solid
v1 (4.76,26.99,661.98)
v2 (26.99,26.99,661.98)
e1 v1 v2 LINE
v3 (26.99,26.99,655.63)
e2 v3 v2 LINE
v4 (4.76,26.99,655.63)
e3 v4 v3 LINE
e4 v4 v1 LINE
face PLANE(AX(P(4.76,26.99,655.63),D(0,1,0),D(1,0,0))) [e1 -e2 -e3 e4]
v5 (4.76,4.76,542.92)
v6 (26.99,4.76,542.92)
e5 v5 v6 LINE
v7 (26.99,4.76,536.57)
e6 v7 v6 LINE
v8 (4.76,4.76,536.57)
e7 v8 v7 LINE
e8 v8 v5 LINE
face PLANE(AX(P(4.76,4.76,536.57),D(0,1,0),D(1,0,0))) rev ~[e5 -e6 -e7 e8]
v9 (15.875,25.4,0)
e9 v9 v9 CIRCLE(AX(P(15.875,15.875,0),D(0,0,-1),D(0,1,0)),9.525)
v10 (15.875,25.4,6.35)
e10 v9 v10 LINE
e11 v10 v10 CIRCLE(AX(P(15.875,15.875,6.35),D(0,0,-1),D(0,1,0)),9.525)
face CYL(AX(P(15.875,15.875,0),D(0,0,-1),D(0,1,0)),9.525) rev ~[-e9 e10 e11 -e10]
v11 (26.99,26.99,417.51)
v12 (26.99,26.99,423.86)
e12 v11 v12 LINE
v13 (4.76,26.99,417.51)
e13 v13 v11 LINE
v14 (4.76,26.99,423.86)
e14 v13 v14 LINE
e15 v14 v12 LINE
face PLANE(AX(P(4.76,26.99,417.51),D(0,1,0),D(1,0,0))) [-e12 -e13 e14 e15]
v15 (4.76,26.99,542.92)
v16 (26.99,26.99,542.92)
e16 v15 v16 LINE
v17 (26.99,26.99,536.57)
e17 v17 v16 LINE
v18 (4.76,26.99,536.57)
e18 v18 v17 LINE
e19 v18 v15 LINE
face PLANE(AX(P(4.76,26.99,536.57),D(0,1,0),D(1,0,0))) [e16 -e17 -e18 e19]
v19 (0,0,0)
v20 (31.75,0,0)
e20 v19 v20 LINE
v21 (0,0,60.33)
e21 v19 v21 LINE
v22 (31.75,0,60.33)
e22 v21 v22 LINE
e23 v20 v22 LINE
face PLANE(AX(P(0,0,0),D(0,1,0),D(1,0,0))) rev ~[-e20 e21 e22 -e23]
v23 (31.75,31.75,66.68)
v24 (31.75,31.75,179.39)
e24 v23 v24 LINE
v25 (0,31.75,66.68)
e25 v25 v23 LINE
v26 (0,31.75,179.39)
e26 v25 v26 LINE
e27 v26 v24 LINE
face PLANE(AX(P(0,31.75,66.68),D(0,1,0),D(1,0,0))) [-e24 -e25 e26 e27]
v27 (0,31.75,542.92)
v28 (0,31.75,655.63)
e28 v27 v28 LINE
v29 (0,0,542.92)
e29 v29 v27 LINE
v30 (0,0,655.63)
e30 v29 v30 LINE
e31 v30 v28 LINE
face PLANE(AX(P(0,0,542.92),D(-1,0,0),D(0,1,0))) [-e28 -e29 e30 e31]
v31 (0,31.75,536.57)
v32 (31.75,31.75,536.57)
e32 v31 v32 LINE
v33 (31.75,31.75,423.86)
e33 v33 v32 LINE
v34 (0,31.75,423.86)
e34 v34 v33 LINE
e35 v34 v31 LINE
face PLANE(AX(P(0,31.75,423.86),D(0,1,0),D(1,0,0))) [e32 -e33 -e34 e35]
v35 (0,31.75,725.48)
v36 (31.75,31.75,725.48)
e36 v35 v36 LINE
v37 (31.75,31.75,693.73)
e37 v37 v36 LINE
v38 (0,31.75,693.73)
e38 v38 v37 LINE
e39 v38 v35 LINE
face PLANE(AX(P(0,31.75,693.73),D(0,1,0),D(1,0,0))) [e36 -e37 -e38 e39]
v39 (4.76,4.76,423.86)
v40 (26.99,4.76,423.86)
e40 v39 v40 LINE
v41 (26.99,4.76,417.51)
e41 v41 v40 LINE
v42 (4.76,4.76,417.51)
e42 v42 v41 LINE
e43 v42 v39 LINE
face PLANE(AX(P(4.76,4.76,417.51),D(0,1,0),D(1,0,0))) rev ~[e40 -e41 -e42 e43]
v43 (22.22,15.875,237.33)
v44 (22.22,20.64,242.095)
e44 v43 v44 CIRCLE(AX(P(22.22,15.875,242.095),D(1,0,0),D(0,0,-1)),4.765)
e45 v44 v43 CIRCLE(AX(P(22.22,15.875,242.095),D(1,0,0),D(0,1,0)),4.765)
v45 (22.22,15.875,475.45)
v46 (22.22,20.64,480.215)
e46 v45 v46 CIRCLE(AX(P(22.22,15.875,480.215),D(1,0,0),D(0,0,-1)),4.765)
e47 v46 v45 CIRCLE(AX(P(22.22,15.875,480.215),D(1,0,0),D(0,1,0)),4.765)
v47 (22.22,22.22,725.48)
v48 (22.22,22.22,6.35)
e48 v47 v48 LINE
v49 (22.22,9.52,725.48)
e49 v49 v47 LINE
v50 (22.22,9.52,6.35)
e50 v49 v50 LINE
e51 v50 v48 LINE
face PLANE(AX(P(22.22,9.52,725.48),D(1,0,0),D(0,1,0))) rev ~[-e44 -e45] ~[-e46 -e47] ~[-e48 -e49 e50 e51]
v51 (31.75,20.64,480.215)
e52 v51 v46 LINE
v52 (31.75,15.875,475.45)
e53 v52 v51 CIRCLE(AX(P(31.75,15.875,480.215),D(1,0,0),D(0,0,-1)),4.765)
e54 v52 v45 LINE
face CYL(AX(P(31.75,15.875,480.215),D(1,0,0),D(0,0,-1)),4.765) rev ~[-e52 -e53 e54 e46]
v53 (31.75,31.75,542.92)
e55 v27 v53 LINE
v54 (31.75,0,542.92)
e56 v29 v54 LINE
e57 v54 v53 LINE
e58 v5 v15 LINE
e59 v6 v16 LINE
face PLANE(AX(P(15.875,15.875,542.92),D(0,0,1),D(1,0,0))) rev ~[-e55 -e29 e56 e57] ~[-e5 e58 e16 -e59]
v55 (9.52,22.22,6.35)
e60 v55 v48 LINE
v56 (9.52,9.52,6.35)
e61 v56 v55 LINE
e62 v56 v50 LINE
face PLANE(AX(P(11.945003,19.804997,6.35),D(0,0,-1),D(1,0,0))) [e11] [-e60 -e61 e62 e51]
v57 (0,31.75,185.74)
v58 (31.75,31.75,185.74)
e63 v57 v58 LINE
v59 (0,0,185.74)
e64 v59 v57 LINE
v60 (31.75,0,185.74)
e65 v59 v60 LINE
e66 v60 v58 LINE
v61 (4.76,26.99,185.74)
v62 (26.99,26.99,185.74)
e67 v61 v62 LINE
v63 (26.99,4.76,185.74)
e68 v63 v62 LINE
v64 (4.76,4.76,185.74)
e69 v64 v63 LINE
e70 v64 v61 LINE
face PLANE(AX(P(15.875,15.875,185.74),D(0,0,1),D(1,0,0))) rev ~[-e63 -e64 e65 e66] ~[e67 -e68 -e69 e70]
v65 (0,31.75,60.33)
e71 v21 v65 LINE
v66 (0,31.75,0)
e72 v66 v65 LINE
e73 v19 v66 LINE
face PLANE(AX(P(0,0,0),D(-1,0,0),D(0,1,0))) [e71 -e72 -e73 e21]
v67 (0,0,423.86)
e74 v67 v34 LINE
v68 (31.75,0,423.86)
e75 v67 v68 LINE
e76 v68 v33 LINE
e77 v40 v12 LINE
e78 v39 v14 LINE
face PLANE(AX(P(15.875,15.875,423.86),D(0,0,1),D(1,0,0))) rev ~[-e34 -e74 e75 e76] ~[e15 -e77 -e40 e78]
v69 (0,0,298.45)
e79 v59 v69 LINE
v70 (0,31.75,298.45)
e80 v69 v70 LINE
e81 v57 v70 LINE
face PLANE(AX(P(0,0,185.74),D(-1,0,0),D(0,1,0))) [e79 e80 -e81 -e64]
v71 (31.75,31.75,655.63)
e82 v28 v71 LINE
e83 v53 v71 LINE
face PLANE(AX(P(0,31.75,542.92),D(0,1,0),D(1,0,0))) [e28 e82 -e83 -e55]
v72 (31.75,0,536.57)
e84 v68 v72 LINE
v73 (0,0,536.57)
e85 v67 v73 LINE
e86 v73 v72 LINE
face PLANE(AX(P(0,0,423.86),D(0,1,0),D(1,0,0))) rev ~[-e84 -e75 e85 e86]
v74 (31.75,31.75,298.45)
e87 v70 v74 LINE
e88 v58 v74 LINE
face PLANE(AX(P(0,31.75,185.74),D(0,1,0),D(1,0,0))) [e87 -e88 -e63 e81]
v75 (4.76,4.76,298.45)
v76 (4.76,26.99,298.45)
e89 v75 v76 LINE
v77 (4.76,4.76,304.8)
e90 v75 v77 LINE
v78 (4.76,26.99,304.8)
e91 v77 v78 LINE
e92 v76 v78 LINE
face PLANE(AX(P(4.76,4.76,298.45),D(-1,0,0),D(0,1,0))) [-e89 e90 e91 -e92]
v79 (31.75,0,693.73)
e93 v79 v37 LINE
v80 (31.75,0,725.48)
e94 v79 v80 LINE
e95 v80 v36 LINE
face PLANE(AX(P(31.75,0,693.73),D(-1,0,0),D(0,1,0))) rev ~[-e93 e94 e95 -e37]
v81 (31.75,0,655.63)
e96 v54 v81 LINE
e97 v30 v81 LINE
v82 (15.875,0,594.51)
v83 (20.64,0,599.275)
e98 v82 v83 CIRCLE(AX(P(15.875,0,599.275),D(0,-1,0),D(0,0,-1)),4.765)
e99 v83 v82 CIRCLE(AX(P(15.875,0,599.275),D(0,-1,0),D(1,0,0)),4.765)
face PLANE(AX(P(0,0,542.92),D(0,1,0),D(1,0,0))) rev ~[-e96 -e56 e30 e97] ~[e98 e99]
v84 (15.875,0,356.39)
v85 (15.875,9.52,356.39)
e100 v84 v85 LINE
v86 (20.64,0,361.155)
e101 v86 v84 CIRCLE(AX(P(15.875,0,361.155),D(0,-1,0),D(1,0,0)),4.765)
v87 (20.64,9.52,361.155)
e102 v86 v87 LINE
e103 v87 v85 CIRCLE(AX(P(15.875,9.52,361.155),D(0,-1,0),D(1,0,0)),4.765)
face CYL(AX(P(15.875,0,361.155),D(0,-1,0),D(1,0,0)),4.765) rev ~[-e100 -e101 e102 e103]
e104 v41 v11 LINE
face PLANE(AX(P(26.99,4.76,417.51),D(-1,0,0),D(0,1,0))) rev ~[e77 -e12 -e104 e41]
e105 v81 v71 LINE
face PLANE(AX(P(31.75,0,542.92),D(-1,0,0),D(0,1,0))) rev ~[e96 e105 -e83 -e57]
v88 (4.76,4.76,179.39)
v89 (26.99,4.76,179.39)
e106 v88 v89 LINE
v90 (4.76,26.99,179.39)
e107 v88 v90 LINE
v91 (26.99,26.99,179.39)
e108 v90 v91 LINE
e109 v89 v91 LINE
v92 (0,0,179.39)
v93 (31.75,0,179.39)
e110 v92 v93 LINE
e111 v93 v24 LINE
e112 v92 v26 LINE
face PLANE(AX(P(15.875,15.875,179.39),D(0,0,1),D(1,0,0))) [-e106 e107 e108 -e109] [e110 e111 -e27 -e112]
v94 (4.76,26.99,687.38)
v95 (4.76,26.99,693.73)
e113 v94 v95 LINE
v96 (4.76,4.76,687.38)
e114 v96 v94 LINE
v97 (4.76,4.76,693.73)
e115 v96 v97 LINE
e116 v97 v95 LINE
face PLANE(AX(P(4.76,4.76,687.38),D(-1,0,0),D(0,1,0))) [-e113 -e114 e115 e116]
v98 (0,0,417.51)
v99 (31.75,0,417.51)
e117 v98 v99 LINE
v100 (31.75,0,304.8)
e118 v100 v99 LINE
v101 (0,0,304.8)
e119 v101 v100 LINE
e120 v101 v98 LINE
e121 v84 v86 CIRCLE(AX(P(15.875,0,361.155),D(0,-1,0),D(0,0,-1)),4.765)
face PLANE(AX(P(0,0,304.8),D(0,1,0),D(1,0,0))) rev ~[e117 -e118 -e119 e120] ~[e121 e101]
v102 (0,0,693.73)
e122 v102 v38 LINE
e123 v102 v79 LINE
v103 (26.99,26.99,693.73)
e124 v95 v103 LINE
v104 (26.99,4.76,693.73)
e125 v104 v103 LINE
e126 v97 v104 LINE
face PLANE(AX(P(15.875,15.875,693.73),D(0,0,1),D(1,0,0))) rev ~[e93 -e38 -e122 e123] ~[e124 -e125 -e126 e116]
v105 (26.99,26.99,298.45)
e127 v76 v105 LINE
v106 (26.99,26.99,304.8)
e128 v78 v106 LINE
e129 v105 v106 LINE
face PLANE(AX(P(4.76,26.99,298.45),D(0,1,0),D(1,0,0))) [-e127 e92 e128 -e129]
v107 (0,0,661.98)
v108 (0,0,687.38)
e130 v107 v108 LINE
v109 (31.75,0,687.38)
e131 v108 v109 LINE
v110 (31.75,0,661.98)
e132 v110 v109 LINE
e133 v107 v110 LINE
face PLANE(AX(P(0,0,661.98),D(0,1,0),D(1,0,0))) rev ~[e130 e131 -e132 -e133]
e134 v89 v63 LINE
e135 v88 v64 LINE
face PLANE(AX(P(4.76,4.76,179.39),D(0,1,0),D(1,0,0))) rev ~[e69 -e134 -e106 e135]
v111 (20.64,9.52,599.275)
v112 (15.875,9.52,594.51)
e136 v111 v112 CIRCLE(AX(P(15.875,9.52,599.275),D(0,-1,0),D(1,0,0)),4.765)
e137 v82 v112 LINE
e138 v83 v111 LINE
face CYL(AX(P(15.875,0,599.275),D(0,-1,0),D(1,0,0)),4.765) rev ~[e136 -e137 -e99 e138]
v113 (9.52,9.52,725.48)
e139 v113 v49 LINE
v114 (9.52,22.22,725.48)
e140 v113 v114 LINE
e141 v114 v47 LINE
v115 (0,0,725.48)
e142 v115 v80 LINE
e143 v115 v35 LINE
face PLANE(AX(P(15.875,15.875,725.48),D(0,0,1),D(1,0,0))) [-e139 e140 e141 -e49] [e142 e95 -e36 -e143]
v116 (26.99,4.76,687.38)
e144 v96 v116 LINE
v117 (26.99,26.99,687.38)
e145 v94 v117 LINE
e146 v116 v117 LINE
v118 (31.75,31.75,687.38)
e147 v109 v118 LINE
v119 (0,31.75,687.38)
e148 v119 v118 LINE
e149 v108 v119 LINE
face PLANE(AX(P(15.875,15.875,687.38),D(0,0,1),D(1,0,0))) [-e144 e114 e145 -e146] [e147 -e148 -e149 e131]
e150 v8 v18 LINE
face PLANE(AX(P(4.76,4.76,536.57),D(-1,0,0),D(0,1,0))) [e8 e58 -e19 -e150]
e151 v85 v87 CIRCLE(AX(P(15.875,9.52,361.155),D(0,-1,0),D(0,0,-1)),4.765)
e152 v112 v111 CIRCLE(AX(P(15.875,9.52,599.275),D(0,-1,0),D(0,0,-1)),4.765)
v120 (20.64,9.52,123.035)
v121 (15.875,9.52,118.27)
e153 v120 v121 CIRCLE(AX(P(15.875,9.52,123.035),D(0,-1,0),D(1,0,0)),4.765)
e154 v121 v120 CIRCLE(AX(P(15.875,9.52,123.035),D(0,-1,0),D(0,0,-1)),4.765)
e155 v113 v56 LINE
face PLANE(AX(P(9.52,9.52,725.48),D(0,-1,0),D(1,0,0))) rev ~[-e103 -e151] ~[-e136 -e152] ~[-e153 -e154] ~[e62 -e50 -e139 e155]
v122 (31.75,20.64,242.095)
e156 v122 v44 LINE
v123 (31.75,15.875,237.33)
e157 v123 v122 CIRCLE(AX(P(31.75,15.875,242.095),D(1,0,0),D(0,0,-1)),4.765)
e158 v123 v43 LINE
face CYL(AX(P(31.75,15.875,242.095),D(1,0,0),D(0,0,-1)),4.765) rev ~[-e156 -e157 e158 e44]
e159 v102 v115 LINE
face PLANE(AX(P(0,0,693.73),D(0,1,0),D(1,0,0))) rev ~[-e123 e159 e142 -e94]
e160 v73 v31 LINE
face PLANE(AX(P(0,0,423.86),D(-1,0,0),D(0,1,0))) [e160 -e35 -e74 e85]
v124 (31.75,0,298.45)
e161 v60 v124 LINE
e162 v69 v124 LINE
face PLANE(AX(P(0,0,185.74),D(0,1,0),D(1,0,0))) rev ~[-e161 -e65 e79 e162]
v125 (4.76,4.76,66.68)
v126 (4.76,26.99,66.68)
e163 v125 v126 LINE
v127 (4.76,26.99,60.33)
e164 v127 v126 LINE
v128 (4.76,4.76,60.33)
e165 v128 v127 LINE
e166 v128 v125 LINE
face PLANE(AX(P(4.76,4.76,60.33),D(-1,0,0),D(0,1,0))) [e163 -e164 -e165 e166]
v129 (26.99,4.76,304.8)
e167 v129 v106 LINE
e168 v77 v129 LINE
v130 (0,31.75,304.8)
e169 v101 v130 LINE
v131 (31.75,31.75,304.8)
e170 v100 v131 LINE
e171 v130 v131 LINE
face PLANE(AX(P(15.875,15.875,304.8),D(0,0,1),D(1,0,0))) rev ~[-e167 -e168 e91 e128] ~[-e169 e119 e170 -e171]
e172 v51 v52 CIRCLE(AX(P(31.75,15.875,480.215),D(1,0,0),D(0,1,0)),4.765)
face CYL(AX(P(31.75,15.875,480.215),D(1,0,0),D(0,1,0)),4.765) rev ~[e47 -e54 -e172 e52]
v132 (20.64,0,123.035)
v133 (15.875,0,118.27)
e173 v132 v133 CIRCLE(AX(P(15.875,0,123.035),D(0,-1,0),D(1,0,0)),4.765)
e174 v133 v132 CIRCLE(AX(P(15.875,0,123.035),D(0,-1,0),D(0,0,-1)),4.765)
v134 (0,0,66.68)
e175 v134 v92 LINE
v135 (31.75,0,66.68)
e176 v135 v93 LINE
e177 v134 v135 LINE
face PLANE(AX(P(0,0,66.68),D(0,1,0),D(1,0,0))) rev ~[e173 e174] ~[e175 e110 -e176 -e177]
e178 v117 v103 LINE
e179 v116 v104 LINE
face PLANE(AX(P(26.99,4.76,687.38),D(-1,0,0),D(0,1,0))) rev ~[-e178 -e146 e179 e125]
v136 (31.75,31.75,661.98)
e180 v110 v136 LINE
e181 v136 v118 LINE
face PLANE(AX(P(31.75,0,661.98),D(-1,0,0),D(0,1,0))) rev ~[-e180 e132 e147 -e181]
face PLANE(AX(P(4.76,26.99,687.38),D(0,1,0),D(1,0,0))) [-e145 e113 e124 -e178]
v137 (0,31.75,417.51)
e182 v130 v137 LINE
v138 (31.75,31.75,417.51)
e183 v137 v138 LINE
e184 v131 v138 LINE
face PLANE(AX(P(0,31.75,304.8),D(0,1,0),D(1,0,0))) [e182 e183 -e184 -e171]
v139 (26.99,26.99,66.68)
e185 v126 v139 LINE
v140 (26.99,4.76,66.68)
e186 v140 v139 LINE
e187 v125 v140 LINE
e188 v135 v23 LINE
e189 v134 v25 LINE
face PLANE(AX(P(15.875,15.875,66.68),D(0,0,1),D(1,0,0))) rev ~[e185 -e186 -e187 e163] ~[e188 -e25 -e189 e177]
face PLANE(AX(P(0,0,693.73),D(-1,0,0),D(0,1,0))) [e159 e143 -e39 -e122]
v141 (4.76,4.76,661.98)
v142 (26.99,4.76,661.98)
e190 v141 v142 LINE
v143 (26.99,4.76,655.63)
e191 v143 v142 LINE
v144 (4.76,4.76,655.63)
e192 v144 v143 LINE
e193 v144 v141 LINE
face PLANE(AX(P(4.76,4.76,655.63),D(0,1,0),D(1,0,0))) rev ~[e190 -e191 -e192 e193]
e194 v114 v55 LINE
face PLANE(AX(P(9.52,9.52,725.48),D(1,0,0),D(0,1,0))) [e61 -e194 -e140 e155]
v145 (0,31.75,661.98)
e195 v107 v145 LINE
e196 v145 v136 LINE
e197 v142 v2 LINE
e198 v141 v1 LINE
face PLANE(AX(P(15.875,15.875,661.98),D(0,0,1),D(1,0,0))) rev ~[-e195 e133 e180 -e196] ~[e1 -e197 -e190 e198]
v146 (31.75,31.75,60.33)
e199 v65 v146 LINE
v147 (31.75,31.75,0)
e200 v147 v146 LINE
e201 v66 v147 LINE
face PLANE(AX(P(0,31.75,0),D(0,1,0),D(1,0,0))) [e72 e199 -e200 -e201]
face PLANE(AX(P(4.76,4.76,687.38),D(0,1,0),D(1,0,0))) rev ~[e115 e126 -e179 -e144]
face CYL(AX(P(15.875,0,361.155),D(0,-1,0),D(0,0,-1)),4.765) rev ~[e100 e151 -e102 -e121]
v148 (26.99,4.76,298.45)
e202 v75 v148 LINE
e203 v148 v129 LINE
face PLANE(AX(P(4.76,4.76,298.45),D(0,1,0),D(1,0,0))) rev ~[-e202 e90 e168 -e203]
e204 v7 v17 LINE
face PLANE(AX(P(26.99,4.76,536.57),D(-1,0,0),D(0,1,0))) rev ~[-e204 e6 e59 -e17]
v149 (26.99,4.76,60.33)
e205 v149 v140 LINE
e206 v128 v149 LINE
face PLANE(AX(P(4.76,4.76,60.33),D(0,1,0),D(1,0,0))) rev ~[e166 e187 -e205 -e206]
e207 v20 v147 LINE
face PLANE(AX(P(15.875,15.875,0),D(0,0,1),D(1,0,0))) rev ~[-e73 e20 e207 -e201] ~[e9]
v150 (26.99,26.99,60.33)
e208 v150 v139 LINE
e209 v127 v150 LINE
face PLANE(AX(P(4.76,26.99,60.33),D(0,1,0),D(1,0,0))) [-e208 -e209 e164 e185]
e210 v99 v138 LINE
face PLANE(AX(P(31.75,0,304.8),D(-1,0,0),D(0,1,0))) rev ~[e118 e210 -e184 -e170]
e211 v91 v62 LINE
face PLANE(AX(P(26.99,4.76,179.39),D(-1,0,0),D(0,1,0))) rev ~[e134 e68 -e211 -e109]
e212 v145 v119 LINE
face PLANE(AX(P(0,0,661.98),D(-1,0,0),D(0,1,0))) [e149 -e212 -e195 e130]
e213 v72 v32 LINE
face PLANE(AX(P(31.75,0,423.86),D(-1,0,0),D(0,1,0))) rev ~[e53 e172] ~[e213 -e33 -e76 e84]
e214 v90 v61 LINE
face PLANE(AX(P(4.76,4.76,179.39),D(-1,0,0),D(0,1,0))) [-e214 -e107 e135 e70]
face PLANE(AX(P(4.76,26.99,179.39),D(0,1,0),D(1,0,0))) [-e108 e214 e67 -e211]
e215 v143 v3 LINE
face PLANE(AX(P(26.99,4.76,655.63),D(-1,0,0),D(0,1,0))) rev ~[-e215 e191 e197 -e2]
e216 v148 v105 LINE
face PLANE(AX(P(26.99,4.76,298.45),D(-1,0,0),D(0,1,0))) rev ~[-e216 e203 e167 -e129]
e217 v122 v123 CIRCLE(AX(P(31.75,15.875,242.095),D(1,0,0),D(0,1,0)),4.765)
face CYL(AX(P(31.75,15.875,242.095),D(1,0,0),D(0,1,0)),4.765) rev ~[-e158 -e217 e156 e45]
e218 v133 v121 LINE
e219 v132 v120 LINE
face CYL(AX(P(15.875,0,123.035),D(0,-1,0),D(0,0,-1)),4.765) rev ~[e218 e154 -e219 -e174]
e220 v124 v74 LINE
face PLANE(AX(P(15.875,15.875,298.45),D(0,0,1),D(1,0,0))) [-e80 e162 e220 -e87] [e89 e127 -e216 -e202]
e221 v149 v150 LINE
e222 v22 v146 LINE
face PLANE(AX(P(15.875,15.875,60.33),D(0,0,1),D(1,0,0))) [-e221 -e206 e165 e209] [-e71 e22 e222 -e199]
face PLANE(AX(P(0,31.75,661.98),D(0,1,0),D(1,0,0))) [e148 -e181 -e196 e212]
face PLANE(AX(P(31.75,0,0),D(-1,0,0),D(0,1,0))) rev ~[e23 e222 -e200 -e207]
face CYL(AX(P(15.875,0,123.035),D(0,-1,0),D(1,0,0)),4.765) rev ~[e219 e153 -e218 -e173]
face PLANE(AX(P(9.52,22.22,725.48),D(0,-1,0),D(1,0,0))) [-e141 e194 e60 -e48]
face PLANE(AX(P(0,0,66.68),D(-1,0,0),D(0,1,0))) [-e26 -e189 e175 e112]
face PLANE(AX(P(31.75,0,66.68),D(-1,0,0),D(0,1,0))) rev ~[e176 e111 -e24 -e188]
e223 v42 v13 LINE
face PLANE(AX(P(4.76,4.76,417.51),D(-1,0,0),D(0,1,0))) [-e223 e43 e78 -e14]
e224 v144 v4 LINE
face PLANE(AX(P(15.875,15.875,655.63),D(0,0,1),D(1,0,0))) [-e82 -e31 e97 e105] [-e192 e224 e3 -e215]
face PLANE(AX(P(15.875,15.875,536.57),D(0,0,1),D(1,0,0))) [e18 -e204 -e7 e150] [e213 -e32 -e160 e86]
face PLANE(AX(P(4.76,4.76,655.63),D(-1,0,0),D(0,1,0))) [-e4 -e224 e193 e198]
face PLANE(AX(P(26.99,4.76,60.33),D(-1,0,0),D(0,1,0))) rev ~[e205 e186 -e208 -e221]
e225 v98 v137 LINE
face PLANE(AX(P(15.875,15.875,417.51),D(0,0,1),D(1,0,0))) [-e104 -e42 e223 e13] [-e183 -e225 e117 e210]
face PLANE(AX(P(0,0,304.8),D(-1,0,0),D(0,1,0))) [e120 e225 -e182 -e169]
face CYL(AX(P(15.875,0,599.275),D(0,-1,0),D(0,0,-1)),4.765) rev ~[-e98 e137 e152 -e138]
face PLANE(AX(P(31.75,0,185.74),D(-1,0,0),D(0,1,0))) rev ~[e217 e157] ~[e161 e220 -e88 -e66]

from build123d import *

# Parameters (mm, degrees)
F0_W      = 31.75
F0_H      = 31.75
F1_DEPTH  = 60.33
F2_W      = 22.23
F2_H      = 22.23
F3_DEPTH  = 6.35
F4_W      = 31.75
F4_H      = 31.75
F5_DEPTH  = 112.71
F6_W      = 22.23
F6_H      = 22.23
F7_DEPTH  = 6.35
F8_W      = 31.75
F8_H      = 31.75
F8_W_2    = 22.23
F8_H_2    = 22.23
F9_DEPTH  = 112.71
F10_W     = 22.23
F10_H     = 22.23
F11_DEPTH = 6.35
F12_W     = 31.75
F12_H     = 31.75
F12_W_2   = 22.23
F12_H_2   = 22.23
F13_DEPTH = 112.71
F14_W     = 22.23
F14_H     = 22.23
F15_DEPTH = 6.35
F16_W     = 31.75
F16_H     = 31.75
F17_DEPTH = 112.71
F18_W     = 22.23
F18_H     = 22.23
F19_DEPTH = 6.35
F20_W     = 31.75
F20_H     = 31.75
F20_W_2   = 22.23
F20_H_2   = 22.23
F21_DEPTH = 112.71
F22_W     = 22.23
F22_H     = 22.23
F23_DEPTH = 6.35
F24_W     = 31.75
F24_H     = 31.75
F24_W_2   = 22.23
F24_H_2   = 22.23
F25_DEPTH = 25.4
F26_W     = 22.23
F26_H     = 22.23
F27_DEPTH = 6.35
F28_W     = 31.75
F28_H     = 31.75
F28_W_2   = 22.23
F28_H_2   = 22.23
F29_DEPTH = 31.75
F32_DEPTH = 12.7
F34_DEPTH = 12.7
F36_DEPTH = 12.7
F38_DEPTH = 12.7
F40_DEPTH = 12.7
F41_W     = 12.7
F41_H     = 12.7
F42_DEPTH = 736.6
F43_DEPTH = 6.35


with BuildPart() as f1:
    # F0 (on Top) → F1 (new body)
    with BuildSketch(Plane.XY):
        with Locations((15.875, 15.875)):
            Rectangle(F0_W, F0_H)
    extrude(amount=F1_DEPTH)

    # F2 (on face) → F3 (join)
    with BuildSketch(Plane.XY.offset(60.33)):
        with Locations((15.875, 15.875)):
            Rectangle(F2_W, F2_H)
    extrude(amount=F3_DEPTH)

    # F4 (on face) → F5 (join)
    with BuildSketch(Plane.XY.offset(66.68)):
        with Locations((15.875, 15.875)):
            Rectangle(F4_W, F4_H)
    extrude(amount=F5_DEPTH)

    # F6 (on face) → F7 (join)
    with BuildSketch(Plane.XY.offset(179.39)):
        with Locations((15.875, 15.875)):
            Rectangle(F6_W, F6_H)
    extrude(amount=F7_DEPTH)

    # F8 (on face) → F9 (join)
    with BuildSketch(Plane.XY.offset(185.74)):
        with Locations((15.875, 15.875)):
            Rectangle(F8_W, F8_H)
        with Locations((15.875, 15.875)):
            Rectangle(F8_W_2, F8_H_2, mode=Mode.SUBTRACT)
        with Locations((15.875, 15.875)):
            Rectangle(F8_W_2, F8_H_2)
    extrude(amount=F9_DEPTH)

    # F10 (on face) → F11 (join)
    with BuildSketch(Plane.XY.offset(298.45)):
        with Locations((15.875, 15.875)):
            Rectangle(F10_W, F10_H)
    extrude(amount=F11_DEPTH)

    # F12 (on face) → F13 (join)
    with BuildSketch(Plane.XY.offset(304.8)):
        with Locations((15.875, 15.875)):
            Rectangle(F12_W, F12_H)
        with Locations((15.875, 15.875)):
            Rectangle(F12_W_2, F12_H_2, mode=Mode.SUBTRACT)
        with Locations((15.875, 15.875)):
            Rectangle(F12_W_2, F12_H_2)
    extrude(amount=F13_DEPTH)

    # F14 (on face) → F15 (join)
    with BuildSketch(Plane.XY.offset(417.51)):
        with Locations((15.875, 15.875)):
            Rectangle(F14_W, F14_H)
    extrude(amount=F15_DEPTH)

    # F16 (on face) → F17 (join)
    with BuildSketch(Plane.XY.offset(423.86)):
        with Locations((15.875, 15.875)):
            Rectangle(F16_W, F16_H)
    extrude(amount=F17_DEPTH)

    # F18 (on face) → F19 (join)
    with BuildSketch(Plane.XY.offset(536.57)):
        with Locations((15.875, 15.875)):
            Rectangle(F18_W, F18_H)
    extrude(amount=F19_DEPTH)

    # F20 (on face) → F21 (join)
    with BuildSketch(Plane.XY.offset(542.92)):
        with Locations((15.875, 15.875)):
            Rectangle(F20_W, F20_H)
        with Locations((15.875, 15.875)):
            Rectangle(F20_W_2, F20_H_2, mode=Mode.SUBTRACT)
        with Locations((15.875, 15.875)):
            Rectangle(F20_W_2, F20_H_2)
    extrude(amount=F21_DEPTH)

    # F22 (on face) → F23 (join)
    with BuildSketch(Plane.XY.offset(655.63)):
        with Locations((15.875, 15.875)):
            Rectangle(F22_W, F22_H)
    extrude(amount=F23_DEPTH)

    # F24 (on face) → F25 (join)
    with BuildSketch(Plane.XY.offset(661.98)):
        with Locations((15.875, 15.875)):
            Rectangle(F24_W, F24_H)
        with Locations((15.875, 15.875)):
            Rectangle(F24_W_2, F24_H_2, mode=Mode.SUBTRACT)
        with Locations((15.875, 15.875)):
            Rectangle(F24_W_2, F24_H_2)
    extrude(amount=F25_DEPTH)

    # F26 (on face) → F27 (join)
    with BuildSketch(Plane.XY.offset(687.38)):
        with Locations((15.875, 15.875)):
            Rectangle(F26_W, F26_H)
    extrude(amount=F27_DEPTH)

    # F28 (on face) → F29 (join)
    with BuildSketch(Plane.XY.offset(693.73)):
        with Locations((15.875, 15.875)):
            Rectangle(F28_W, F28_H)
        with Locations((15.875, 15.875)):
            Rectangle(F28_W_2, F28_H_2, mode=Mode.SUBTRACT)
        with Locations((15.875, 15.875)):
            Rectangle(F28_W_2, F28_H_2)
    extrude(amount=F29_DEPTH)

    # F31 (on face) → F32 (cut)
    with BuildSketch(Plane.XZ):
        with BuildLine():
            Line((15.875, 123.035), (20.64, 123.035))
            ThreePointArc((20.64, 123.035), (12.5056361876, 126.4043638124), (15.875, 118.27))
            Line((15.875, 118.27), (15.875, 123.035))
        make_face()
        with BuildLine():
            ThreePointArc((15.875, 118.27), (19.2443638124, 119.6656361876), (20.64, 123.035))
            Line((20.64, 123.035), (15.875, 123.035))
            Line((15.875, 123.035), (15.875, 118.27))
        make_face()
    extrude(amount=-F32_DEPTH, mode=Mode.SUBTRACT)

    # F33 (on face) → F34 (cut)
    with BuildSketch(Plane.YZ.offset(31.75)):
        with BuildLine():
            Line((15.875, 242.095), (20.64, 242.095))
            ThreePointArc((20.64, 242.095), (12.5056361876, 245.4643638124), (15.875, 237.33))
            Line((15.875, 237.33), (15.875, 242.095))
        make_face()
        with BuildLine():
            ThreePointArc((15.875, 237.33), (19.2443638124, 238.7256361876), (20.64, 242.095))
            Line((20.64, 242.095), (15.875, 242.095))
            Line((15.875, 242.095), (15.875, 237.33))
        make_face()
    extrude(amount=-F34_DEPTH, mode=Mode.SUBTRACT)

    # F35 (on face) → F36 (cut)
    with BuildSketch(Plane.XZ):
        with BuildLine():
            Line((15.875, 361.155), (20.64, 361.155))
            ThreePointArc((20.64, 361.155), (12.5056361876, 364.5243638124), (15.875, 356.39))
            Line((15.875, 356.39), (15.875, 361.155))
        make_face()
        with BuildLine():
            ThreePointArc((15.875, 356.39), (19.2443638124, 357.7856361876), (20.64, 361.155))
            Line((20.64, 361.155), (15.875, 361.155))
            Line((15.875, 361.155), (15.875, 356.39))
        make_face()
    extrude(amount=-F36_DEPTH, mode=Mode.SUBTRACT)

    # F37 (on face) → F38 (cut)
    with BuildSketch(Plane.YZ.offset(31.75)):
        with BuildLine():
            Line((15.875, 480.215), (20.64, 480.215))
            ThreePointArc((20.64, 480.215), (12.5056361876, 483.5843638124), (15.875, 475.45))
            Line((15.875, 475.45), (15.875, 480.215))
        make_face()
        with BuildLine():
            ThreePointArc((15.875, 475.45), (19.2443638124, 476.8456361876), (20.64, 480.215))
            Line((20.64, 480.215), (15.875, 480.215))
            Line((15.875, 480.215), (15.875, 475.45))
        make_face()
    extrude(amount=-F38_DEPTH, mode=Mode.SUBTRACT)

    # F39 (on face) → F40 (cut)
    with BuildSketch(Plane.XZ):
        with BuildLine():
            Line((15.875, 599.275), (20.64, 599.275))
            ThreePointArc((20.64, 599.275), (12.5056361876, 602.6443638124), (15.875, 594.51))
            Line((15.875, 594.51), (15.875, 599.275))
        make_face()
        with BuildLine():
            ThreePointArc((15.875, 594.51), (19.2443638124, 595.9056361876), (20.64, 599.275))
            Line((20.64, 599.275), (15.875, 599.275))
            Line((15.875, 599.275), (15.875, 594.51))
        make_face()
    extrude(amount=-F40_DEPTH, mode=Mode.SUBTRACT)

    # F41 (on face) → F42 (cut)
    with BuildSketch(Plane.XY.offset(725.48)):
        with Locations((15.87, 15.87)):
            Rectangle(F41_W, F41_H)
    extrude(amount=-F42_DEPTH, mode=Mode.SUBTRACT)

    # F30 (on face) → F43 (cut)
    with BuildSketch(Plane(origin=(0, 0, 0), x_dir=(1, 0, 0), z_dir=(0, 0, -1))):
        with BuildLine():
            ThreePointArc((6.35, -15.875), (9.1398079092, -22.6101920908), (15.875, -25.4))
            Line((15.875, -25.4), (15.875, -15.875))
            Line((15.875, -15.875), (6.35, -15.875))
        make_face()
        with BuildLine():
            Line((15.875, -15.875), (15.875, -25.4))
            ThreePointArc((15.875, -25.4), (22.6101920908, -22.6101920908), (25.4, -15.875))
            ThreePointArc((25.4, -15.875), (15.875, -6.35), (6.35, -15.875))
            Line((6.35, -15.875), (15.875, -15.875))
        make_face()
    extrude(amount=-F43_DEPTH, mode=Mode.SUBTRACT)


solid = f1.part
